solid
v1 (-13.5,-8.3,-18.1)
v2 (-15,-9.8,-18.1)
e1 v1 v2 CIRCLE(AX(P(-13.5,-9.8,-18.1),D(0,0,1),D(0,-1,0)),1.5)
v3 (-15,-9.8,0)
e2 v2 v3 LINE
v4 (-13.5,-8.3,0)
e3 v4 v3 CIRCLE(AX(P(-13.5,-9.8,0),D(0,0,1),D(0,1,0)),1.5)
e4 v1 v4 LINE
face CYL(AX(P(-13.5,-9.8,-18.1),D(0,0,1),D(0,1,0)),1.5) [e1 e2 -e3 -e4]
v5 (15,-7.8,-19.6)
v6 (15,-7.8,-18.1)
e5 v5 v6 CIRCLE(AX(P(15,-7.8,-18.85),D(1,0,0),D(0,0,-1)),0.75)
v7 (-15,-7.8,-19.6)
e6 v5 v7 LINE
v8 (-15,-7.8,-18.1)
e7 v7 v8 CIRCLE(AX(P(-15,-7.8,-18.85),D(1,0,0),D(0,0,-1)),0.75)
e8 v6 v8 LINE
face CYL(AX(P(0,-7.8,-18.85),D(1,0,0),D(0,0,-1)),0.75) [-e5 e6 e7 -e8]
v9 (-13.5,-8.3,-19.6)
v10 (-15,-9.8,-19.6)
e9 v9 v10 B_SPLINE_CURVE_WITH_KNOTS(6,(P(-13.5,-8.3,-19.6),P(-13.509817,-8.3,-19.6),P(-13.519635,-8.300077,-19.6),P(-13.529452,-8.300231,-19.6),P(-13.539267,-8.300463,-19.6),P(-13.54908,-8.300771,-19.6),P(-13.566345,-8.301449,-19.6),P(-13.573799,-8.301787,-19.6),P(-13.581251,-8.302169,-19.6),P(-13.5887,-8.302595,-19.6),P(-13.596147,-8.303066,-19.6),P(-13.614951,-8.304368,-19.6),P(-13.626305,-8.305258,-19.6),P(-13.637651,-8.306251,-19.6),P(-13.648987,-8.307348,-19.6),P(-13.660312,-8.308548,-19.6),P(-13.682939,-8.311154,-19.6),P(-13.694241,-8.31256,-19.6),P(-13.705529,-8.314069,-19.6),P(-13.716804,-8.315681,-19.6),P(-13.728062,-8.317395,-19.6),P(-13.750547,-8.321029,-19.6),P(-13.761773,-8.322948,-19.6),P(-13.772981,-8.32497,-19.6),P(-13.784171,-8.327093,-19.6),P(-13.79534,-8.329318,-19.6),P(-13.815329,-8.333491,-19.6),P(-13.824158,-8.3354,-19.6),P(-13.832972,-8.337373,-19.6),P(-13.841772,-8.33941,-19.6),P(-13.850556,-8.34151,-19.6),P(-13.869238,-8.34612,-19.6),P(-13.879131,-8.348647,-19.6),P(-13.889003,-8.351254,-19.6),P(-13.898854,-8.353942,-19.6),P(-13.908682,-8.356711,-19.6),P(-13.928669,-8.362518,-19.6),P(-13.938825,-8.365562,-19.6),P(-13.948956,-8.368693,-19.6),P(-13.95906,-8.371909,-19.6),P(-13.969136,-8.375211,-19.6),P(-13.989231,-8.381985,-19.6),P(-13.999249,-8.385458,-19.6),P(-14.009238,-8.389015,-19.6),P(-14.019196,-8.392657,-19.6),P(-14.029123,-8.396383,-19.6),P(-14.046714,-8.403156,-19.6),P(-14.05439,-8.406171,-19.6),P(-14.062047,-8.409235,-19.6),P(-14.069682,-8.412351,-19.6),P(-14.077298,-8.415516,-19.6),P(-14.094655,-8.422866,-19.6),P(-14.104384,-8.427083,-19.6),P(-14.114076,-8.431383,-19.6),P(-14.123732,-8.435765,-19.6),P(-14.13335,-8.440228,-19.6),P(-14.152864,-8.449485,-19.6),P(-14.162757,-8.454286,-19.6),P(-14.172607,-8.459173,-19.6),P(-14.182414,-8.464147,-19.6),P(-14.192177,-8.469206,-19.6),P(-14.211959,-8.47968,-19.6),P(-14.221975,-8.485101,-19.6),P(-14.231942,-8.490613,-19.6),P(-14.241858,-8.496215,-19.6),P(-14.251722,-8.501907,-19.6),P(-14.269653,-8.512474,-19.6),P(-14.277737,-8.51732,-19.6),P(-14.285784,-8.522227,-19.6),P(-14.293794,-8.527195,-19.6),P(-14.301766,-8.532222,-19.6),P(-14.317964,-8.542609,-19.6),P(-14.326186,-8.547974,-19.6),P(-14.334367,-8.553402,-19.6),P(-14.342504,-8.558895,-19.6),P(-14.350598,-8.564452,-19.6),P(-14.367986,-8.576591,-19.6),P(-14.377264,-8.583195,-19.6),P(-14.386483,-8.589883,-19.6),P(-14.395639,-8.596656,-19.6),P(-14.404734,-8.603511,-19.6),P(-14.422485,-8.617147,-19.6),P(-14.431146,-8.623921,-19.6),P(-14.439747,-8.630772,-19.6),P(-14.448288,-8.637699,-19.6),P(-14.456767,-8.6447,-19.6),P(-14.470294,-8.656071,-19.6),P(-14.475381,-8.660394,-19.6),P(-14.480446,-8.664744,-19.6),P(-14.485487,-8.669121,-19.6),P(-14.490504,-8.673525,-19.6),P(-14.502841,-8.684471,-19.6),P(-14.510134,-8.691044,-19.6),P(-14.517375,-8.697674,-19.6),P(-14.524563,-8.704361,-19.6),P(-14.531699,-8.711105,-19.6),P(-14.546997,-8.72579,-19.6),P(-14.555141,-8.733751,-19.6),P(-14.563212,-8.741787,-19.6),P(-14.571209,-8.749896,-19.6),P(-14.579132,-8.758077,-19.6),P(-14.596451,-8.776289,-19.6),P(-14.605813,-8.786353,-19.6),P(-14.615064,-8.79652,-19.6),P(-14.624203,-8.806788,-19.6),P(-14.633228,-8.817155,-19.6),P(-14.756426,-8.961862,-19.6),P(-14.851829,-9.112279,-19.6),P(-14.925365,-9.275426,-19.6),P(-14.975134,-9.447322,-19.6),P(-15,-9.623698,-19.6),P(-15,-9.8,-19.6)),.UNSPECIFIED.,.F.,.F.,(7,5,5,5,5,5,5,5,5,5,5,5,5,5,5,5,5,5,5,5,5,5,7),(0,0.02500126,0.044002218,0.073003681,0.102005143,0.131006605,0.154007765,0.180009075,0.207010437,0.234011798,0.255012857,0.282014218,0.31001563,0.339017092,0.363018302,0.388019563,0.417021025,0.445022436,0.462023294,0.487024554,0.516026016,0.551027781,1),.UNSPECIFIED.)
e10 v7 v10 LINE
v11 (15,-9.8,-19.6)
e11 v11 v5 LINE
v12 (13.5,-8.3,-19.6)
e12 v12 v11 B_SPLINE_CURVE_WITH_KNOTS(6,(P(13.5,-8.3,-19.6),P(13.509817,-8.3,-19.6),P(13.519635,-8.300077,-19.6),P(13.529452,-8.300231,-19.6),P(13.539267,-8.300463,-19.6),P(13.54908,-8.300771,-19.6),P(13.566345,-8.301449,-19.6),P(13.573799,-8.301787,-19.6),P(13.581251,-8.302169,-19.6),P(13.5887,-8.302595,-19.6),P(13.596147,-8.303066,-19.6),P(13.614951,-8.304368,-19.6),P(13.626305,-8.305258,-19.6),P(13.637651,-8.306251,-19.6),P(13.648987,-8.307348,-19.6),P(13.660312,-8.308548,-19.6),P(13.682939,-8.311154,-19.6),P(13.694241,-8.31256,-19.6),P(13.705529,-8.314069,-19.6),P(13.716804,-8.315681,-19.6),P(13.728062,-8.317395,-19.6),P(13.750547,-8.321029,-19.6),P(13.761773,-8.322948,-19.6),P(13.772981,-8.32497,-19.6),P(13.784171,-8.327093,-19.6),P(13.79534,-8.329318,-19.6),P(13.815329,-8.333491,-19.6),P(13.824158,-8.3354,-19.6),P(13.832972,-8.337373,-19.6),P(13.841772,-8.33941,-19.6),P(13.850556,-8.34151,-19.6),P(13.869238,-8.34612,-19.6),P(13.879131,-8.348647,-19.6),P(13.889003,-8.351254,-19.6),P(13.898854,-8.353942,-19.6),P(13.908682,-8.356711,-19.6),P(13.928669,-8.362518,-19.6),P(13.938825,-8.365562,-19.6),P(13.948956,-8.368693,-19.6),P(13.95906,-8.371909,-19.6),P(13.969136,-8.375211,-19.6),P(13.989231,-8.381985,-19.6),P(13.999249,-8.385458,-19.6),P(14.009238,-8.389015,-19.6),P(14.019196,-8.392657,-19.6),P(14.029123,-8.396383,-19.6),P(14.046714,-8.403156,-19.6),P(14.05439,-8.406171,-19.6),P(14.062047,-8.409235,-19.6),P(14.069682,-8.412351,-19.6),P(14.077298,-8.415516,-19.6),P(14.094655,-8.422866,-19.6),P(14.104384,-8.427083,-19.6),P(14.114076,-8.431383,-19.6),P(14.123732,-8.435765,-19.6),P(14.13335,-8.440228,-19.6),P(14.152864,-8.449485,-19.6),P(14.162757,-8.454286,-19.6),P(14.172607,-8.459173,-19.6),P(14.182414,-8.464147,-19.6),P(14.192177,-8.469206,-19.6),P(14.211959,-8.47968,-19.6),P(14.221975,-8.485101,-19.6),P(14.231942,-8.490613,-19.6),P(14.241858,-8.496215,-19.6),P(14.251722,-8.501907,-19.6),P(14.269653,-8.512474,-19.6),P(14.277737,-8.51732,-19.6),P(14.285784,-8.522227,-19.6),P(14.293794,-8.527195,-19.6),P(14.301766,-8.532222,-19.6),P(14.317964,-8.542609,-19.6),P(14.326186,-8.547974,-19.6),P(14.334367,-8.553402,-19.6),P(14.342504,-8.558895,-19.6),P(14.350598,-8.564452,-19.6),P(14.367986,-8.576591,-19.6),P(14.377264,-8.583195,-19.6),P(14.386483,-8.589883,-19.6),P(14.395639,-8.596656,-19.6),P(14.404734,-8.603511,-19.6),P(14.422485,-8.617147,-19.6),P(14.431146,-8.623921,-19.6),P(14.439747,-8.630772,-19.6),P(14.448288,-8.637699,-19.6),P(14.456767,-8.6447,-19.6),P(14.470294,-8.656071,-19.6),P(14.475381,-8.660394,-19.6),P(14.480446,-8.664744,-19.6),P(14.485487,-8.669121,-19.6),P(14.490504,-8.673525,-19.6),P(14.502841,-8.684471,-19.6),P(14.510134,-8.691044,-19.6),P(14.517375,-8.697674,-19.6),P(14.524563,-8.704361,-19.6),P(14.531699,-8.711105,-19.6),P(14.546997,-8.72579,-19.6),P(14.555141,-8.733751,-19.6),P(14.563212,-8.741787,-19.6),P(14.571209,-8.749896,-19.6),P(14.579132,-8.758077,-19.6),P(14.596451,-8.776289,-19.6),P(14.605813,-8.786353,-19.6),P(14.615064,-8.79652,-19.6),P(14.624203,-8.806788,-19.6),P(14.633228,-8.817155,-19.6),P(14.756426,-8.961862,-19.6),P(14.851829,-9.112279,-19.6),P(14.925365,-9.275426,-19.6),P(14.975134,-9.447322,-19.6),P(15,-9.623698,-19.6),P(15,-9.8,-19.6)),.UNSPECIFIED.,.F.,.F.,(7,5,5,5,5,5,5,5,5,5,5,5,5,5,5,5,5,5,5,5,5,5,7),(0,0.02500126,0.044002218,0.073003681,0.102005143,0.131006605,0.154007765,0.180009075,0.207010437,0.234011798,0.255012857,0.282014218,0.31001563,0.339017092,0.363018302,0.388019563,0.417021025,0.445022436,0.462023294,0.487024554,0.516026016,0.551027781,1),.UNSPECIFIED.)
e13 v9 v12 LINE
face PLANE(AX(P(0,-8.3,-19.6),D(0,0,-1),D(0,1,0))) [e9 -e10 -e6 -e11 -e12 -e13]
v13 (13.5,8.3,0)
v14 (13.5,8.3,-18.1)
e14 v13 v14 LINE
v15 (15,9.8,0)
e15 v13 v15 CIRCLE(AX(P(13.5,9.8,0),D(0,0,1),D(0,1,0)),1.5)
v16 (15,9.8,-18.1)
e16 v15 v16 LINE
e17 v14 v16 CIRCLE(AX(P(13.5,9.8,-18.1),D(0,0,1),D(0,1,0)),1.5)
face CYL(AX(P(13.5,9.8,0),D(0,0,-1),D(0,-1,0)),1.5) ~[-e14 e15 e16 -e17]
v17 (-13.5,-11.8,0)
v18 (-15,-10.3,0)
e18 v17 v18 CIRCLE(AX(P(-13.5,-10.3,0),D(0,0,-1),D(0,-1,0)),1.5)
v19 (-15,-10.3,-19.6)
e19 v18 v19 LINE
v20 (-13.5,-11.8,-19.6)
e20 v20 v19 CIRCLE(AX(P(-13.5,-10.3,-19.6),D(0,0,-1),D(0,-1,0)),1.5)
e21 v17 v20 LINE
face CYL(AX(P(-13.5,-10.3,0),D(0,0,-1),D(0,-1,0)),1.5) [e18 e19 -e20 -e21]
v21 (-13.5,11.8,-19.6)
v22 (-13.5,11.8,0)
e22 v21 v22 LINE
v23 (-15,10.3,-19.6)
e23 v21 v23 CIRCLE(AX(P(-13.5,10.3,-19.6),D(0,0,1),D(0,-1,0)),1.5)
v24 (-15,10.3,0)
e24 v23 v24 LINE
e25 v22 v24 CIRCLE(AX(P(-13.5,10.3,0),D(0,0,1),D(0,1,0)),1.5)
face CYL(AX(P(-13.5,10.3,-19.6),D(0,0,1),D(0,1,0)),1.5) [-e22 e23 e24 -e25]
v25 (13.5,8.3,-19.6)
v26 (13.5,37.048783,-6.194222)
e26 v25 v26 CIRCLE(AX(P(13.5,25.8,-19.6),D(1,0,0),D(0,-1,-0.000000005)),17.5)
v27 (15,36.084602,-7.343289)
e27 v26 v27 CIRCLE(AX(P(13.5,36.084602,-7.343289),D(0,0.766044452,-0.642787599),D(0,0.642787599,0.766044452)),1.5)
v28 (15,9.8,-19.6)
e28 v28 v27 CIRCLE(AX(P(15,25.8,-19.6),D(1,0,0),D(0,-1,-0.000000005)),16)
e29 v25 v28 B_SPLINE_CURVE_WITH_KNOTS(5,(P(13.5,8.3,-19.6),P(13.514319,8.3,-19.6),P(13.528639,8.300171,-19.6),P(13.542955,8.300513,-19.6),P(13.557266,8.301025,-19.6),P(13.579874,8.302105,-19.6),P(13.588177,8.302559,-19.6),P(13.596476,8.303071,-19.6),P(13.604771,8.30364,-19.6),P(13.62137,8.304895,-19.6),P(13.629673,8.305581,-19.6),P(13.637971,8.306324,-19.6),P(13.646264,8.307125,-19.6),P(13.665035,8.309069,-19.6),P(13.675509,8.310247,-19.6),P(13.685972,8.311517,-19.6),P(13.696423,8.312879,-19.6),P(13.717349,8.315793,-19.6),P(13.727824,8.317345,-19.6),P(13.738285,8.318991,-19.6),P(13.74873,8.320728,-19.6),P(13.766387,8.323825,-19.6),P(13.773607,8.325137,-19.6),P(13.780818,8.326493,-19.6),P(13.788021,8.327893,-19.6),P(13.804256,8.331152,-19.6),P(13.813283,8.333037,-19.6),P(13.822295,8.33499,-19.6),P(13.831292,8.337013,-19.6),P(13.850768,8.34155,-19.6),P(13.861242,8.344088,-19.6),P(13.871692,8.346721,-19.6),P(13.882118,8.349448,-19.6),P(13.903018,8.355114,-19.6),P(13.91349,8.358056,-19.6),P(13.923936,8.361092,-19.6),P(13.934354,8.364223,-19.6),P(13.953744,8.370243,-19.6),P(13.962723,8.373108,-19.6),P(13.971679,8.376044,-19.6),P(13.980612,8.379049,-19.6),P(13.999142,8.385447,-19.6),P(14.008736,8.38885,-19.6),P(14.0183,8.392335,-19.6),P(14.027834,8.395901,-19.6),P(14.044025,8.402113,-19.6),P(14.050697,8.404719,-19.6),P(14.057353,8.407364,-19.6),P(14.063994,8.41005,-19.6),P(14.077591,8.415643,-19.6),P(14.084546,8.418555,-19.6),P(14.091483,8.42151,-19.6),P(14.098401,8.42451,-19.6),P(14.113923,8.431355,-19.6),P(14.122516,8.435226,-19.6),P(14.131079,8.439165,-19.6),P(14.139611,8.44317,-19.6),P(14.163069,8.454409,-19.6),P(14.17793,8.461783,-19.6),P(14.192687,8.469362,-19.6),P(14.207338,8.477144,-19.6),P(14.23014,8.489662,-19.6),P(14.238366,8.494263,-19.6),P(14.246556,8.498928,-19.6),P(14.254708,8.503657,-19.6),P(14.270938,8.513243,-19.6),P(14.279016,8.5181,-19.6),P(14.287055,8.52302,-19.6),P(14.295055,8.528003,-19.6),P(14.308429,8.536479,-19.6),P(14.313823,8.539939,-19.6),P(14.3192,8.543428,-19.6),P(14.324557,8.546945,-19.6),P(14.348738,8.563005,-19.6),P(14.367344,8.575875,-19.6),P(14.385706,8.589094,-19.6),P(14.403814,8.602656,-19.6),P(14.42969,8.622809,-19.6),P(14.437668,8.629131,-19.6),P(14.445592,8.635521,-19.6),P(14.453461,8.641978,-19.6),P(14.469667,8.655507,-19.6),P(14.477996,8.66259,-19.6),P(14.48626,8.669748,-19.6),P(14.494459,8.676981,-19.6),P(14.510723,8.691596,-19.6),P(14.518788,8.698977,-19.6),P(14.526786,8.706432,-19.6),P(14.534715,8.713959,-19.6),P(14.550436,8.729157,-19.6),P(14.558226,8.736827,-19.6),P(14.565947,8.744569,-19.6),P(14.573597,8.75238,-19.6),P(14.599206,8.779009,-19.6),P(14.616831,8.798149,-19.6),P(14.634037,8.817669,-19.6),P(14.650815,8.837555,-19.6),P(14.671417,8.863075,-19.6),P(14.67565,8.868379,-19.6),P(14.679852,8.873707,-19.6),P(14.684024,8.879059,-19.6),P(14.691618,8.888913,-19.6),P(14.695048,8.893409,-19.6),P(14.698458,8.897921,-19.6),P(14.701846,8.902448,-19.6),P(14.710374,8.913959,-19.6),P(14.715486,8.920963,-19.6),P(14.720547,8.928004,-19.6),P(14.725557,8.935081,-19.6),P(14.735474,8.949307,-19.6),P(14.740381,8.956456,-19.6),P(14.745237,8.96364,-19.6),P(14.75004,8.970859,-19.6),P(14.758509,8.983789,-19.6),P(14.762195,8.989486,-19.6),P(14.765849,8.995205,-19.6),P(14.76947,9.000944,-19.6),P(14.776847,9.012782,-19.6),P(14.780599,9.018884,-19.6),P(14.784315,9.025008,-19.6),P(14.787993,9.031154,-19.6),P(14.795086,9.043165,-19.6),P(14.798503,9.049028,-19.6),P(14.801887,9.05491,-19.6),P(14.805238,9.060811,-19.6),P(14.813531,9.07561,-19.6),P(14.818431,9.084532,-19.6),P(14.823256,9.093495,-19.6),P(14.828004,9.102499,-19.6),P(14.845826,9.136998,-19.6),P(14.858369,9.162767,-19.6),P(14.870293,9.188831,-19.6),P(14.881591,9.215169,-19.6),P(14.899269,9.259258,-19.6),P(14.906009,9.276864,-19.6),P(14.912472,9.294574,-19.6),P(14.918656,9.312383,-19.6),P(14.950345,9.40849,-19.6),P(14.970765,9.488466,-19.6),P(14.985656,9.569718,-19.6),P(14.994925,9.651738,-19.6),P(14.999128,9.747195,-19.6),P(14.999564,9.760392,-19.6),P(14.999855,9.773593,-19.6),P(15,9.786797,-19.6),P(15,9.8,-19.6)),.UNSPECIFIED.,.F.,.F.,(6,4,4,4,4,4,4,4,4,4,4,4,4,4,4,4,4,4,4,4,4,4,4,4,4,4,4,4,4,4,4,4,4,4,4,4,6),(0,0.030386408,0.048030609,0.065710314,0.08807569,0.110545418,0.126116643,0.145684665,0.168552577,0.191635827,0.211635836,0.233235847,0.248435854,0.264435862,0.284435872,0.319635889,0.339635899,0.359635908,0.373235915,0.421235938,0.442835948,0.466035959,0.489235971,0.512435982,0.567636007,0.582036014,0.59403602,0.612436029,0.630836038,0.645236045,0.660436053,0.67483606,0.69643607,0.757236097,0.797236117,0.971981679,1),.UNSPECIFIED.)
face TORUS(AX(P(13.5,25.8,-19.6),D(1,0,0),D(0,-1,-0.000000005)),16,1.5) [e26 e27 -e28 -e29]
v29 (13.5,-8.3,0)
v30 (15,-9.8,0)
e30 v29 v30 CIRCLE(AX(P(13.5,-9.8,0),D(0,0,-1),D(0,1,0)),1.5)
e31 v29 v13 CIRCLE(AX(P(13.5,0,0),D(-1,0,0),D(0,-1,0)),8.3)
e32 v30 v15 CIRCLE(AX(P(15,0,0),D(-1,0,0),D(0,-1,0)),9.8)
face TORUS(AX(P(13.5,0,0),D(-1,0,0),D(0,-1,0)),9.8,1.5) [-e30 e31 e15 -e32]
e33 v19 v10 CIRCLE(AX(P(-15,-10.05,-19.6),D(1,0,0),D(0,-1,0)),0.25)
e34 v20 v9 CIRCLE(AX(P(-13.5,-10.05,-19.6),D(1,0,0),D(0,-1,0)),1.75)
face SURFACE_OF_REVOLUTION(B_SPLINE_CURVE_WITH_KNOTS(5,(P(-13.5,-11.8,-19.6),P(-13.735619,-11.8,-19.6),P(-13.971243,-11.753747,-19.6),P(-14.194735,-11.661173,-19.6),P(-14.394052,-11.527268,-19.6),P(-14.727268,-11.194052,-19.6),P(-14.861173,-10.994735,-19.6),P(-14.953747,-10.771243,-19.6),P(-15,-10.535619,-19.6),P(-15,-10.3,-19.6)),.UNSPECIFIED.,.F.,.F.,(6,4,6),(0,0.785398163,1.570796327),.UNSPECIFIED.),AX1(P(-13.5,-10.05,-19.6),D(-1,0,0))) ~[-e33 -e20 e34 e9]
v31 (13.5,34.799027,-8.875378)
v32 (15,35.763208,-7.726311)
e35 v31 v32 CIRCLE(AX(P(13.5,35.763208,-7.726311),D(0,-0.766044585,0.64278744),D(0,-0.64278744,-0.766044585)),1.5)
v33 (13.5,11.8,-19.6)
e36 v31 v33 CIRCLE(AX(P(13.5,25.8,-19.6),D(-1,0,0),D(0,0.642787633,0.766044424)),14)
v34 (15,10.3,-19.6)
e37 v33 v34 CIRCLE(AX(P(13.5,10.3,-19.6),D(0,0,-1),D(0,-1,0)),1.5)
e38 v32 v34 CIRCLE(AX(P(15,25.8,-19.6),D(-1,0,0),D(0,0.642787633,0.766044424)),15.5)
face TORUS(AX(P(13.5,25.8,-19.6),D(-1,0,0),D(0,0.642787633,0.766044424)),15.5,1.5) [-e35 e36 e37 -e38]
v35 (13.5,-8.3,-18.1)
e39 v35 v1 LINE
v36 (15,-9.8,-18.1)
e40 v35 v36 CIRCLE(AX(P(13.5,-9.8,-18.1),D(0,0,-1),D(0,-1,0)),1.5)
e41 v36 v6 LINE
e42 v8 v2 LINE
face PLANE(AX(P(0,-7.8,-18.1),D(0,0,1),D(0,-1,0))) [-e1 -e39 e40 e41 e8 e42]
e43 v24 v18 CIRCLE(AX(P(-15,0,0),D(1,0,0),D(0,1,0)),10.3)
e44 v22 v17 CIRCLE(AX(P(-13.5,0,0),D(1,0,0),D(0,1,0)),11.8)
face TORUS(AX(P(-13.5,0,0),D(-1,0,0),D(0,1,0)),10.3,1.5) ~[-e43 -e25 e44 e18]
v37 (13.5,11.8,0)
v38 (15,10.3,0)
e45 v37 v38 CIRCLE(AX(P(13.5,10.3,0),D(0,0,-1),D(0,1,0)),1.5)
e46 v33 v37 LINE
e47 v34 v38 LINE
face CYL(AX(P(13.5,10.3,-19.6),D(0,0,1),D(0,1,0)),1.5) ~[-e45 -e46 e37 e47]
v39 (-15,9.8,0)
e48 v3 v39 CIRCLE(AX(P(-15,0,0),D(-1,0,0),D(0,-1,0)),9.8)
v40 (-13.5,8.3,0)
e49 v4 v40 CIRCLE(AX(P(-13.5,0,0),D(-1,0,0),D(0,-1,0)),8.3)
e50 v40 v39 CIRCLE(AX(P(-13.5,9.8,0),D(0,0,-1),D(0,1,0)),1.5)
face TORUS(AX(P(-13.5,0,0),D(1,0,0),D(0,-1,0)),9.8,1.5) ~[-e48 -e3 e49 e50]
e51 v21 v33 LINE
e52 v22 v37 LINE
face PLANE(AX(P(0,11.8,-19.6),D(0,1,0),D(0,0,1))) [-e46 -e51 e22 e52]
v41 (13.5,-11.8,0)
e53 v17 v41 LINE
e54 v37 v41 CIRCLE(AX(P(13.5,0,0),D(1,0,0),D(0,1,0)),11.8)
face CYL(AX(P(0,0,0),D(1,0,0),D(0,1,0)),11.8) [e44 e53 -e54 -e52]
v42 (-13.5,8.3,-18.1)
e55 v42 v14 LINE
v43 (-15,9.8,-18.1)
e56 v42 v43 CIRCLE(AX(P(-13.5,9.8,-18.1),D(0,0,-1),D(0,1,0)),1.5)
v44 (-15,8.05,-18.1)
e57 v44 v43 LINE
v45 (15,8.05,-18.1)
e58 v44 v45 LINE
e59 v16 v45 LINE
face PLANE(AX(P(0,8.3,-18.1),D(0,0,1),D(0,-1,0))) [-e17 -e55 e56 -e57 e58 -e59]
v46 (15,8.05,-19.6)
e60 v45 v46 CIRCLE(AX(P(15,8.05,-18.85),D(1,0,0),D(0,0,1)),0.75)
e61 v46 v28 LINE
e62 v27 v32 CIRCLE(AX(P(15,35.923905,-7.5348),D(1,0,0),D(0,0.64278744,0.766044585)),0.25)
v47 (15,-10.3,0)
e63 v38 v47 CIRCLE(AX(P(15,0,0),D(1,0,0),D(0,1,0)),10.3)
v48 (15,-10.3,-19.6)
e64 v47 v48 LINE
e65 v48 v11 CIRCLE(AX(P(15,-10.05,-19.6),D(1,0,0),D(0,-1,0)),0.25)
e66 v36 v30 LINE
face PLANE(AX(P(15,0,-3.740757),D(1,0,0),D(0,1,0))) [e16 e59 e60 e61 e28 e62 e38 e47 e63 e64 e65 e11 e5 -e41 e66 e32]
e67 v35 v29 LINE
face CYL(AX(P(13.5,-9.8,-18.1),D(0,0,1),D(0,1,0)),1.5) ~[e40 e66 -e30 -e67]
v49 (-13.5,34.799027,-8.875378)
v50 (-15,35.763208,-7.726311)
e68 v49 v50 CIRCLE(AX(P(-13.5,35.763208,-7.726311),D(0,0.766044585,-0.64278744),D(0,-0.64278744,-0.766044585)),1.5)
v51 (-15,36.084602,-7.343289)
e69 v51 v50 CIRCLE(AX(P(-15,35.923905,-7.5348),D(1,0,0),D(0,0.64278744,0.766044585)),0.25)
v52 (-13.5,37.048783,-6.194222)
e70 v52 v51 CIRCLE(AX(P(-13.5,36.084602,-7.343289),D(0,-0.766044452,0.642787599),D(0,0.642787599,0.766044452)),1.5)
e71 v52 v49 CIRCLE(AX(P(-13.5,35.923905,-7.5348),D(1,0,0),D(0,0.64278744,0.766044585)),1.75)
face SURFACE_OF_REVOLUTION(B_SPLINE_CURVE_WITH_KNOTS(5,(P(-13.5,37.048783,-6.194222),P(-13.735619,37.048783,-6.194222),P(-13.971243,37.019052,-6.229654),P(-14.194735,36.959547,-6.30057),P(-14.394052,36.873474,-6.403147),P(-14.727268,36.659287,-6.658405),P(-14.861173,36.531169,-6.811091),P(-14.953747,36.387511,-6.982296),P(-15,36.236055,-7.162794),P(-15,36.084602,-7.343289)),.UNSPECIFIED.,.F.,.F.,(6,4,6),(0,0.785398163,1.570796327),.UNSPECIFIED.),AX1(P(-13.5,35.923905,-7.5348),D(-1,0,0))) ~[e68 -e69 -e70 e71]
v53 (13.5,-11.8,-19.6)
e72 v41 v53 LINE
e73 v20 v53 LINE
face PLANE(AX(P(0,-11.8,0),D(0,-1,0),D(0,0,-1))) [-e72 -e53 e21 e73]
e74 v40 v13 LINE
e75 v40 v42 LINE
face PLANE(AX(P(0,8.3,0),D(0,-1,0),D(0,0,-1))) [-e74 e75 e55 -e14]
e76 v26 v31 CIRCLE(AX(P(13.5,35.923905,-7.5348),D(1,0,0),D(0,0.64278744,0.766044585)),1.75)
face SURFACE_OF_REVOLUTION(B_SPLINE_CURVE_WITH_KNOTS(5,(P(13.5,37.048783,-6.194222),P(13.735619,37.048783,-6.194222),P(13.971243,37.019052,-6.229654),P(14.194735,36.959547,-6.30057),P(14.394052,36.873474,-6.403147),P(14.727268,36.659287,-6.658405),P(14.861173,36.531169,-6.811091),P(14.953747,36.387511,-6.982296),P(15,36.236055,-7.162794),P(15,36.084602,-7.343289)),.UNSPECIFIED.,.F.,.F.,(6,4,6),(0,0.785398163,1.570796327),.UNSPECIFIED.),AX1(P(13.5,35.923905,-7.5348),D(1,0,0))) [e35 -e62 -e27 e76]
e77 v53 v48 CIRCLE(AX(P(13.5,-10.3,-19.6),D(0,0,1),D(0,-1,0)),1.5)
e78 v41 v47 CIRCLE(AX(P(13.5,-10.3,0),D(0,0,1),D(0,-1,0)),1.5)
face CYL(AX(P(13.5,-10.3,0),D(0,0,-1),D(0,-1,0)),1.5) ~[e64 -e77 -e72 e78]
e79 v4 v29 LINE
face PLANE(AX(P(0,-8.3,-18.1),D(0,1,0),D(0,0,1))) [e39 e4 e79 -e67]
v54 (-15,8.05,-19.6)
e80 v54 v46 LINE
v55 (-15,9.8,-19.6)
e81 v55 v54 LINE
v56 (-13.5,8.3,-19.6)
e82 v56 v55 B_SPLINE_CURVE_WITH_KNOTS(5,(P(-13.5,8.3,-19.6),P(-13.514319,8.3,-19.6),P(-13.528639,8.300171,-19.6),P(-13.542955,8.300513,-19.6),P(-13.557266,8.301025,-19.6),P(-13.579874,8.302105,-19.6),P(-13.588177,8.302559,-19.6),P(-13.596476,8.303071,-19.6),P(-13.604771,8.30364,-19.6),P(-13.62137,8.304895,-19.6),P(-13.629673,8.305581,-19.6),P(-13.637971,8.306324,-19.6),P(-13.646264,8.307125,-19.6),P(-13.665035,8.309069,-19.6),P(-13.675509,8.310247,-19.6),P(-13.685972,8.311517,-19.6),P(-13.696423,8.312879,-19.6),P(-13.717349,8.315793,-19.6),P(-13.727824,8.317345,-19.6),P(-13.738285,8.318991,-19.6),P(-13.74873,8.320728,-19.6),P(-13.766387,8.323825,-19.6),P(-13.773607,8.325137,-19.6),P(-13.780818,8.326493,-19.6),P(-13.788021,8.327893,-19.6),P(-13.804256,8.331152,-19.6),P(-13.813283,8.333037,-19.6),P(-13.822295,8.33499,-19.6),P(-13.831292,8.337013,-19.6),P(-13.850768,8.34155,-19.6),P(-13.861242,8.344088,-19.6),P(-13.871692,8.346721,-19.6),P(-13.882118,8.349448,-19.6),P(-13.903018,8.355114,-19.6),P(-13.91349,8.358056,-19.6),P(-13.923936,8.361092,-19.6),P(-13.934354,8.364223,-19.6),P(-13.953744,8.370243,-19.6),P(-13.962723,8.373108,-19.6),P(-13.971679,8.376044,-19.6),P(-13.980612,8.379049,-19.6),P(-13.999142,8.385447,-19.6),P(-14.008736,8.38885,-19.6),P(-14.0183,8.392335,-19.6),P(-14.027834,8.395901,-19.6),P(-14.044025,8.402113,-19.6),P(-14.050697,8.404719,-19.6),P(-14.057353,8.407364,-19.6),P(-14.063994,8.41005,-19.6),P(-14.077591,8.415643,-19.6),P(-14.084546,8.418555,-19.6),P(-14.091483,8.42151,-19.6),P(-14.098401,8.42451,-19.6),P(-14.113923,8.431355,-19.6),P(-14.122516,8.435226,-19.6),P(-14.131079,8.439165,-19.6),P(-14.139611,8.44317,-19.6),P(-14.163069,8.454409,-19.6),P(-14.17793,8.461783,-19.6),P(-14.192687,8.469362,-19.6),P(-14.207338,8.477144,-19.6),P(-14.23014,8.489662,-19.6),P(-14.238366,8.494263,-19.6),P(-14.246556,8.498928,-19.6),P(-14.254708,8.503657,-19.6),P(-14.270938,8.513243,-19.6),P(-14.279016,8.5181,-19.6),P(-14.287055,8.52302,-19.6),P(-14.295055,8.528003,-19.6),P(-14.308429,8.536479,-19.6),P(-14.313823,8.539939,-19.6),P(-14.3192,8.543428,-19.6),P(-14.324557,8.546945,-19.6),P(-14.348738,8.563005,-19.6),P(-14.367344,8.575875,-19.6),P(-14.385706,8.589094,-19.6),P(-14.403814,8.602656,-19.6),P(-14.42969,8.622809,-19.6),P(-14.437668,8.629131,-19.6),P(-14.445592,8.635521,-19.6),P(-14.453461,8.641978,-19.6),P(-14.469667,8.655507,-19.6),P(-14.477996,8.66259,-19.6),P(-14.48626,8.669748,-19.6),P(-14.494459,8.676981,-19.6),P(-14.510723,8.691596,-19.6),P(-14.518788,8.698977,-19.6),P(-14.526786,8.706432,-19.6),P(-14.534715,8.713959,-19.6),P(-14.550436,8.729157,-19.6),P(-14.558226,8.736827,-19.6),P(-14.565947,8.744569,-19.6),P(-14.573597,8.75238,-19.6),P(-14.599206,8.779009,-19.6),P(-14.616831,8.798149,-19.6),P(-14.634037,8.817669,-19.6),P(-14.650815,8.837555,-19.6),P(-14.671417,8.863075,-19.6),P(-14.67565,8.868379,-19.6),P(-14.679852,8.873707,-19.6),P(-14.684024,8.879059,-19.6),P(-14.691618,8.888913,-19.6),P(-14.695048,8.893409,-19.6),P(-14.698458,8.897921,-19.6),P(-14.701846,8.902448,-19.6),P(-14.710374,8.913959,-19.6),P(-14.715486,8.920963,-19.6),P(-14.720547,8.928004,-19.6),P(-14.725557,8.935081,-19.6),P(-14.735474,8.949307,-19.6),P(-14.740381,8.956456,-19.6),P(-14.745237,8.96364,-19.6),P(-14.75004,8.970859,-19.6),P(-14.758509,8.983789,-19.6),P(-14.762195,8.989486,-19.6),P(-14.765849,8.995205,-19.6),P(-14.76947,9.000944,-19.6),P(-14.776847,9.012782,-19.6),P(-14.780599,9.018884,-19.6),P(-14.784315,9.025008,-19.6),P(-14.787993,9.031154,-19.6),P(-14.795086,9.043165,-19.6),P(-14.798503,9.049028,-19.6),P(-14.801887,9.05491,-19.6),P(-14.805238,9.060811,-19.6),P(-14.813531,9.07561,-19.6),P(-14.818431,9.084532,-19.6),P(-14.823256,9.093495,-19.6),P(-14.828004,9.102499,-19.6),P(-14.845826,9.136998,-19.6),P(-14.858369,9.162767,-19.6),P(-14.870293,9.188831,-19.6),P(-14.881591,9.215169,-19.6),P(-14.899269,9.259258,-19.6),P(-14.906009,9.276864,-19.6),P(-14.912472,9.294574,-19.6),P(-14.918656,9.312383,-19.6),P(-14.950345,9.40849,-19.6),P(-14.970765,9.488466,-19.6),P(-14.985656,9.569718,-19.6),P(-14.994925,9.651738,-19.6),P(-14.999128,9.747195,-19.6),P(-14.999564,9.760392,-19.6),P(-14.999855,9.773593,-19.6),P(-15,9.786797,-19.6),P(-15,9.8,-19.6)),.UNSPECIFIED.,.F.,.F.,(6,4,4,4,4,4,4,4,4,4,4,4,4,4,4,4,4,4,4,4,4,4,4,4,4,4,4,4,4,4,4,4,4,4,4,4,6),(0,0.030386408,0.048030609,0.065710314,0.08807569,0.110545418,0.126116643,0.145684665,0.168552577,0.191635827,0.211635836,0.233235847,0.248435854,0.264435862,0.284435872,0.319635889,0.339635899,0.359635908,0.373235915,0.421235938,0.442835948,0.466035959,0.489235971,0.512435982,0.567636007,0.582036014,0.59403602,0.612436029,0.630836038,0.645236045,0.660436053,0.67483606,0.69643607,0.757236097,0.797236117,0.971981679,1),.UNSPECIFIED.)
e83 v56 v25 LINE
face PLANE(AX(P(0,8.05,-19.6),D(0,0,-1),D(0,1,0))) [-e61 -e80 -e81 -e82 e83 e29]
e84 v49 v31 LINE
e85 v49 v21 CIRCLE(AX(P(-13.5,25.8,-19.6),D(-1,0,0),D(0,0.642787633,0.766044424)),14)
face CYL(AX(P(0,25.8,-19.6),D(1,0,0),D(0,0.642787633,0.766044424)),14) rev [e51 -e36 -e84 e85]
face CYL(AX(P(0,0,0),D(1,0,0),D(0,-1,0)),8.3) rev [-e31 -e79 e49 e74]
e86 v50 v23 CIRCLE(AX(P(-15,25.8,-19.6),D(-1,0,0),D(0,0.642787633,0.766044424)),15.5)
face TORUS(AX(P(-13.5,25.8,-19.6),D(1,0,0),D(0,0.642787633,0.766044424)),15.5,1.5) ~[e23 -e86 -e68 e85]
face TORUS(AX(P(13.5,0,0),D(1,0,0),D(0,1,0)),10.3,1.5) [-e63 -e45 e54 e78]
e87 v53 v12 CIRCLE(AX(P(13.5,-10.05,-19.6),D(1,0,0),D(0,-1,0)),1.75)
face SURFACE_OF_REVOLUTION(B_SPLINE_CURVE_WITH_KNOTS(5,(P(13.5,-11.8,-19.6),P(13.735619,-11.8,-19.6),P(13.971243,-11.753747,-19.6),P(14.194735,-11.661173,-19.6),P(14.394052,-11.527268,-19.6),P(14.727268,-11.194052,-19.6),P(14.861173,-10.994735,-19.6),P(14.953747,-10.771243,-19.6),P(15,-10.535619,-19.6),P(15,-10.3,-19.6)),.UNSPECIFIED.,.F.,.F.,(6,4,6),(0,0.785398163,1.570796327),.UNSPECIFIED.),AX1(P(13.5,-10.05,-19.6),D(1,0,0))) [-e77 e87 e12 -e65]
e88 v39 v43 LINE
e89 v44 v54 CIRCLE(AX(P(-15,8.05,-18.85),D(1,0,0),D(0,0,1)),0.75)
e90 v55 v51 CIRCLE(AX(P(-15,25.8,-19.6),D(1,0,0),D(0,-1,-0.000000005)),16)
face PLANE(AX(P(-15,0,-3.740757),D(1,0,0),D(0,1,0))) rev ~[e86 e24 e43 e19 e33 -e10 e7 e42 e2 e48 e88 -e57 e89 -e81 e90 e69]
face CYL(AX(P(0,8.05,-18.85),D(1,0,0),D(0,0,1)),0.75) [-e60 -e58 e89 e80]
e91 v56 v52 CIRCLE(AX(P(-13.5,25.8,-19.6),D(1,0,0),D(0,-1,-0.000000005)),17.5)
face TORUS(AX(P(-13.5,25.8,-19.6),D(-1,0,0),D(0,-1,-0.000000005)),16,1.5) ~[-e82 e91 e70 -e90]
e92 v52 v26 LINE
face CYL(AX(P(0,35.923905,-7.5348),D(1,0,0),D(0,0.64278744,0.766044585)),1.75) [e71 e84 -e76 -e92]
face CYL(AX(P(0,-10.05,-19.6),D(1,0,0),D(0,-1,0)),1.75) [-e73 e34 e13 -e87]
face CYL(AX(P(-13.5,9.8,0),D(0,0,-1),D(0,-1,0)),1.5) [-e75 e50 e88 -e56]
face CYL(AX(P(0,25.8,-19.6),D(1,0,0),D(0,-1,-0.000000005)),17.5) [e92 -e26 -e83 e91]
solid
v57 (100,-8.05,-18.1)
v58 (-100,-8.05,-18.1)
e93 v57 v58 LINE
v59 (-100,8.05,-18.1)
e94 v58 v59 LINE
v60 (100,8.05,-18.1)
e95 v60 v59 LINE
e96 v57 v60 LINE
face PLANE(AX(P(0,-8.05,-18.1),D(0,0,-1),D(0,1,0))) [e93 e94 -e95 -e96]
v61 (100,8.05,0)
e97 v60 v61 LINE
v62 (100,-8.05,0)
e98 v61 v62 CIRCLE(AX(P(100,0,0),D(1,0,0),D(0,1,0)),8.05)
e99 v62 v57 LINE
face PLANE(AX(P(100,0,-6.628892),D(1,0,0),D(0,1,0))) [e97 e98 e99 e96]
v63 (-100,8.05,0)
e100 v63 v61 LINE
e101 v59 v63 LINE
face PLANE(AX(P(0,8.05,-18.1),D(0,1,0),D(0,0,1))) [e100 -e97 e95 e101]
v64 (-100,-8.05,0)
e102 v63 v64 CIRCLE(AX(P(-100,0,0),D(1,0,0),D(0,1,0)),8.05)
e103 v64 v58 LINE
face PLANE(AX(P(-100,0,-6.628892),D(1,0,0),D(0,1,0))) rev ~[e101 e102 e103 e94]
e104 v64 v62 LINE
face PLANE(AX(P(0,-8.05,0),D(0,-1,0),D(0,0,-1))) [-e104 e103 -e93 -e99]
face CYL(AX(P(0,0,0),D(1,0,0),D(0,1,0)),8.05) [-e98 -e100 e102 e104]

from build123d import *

# Parameters (mm, degrees)
F1_DEPTH = 100
F3_DEPTH = 15
F4_R     = 1.5


with BuildPart() as f1:
    # F0 (on Right) → F1 (new body, symmetric)
    with BuildSketch(Plane.YZ):
        with BuildLine():
            Line((8.05, -18.1), (8.05, 0))
            ThreePointArc((8.05, 0), (0, 8.05), (-8.05, 0))
            Line((-8.05, 0), (-8.05, -18.1))
            Line((-8.05, -18.1), (8.05, -18.1))
        make_face()
    extrude(amount=F1_DEPTH, both=True)


with BuildPart() as f3:
    # F2 (on Right) → F3 (new body, symmetric)
    with BuildSketch(Plane.YZ):
        with BuildLine():
            Line((-8.3, -19.6), (-8.3, -18.1))
            Line((-8.3, -18.1), (-8.3, 0))
            ThreePointArc((-8.3, 0), (0, 8.3), (8.3, 0))
            Line((8.3, 0), (8.3, -18.1))
            Line((8.3, -18.1), (8.3, -19.6))
            Line((8.3, -19.6), (11.8, -19.6))
            Line((11.8, -19.6), (11.8, 0))
            ThreePointArc((11.8, 0), (0, 11.8), (-11.8, 0))
            Line((-11.8, 0), (-11.8, -19.6))
            Line((-11.8, -19.6), (-8.3, -19.6))
        make_face()
        with BuildLine():
            Line((11.8, -19.6), (8.3, -19.6))
            ThreePointArc((8.3, -19.6), (33.19582, -35.460386), (37.048783, -6.194222))
            ThreePointArc((37.048783, -6.194222), (34.583327, -6.409922), (34.799027, -8.875378))
            ThreePointArc((34.799027, -8.875378), (31.716656, -32.288309), (11.8, -19.6))
        make_face()
        with BuildLine():
            Line((8.3, -18.1), (8.05, -18.1))
            ThreePointArc((8.05, -18.1), (7.3, -18.85), (8.05, -19.6))
            Line((8.05, -19.6), (8.3, -19.6))
            Line((8.3, -19.6), (8.3, -18.1))
        make_face()
        with BuildLine():
            ThreePointArc((-11.8, -19.6), (-10.05, -21.35), (-8.3, -19.6))
            Line((-8.3, -19.6), (-11.8, -19.6))
        make_face()
        with BuildLine():
            Line((-7.8, -18.1), (-8.05, -18.1))
            Line((-8.05, -18.1), (-8.3, -18.1))
            Line((-8.3, -18.1), (-8.3, -19.6))
            Line((-8.3, -19.6), (-7.8, -19.6))
            ThreePointArc((-7.8, -19.6), (-7.05, -18.85), (-7.8, -18.1))
        make_face()
    extrude(amount=F3_DEPTH, both=True)

    # F4
    f4_edges = [f3.edges().sort_by_distance(p)[0] for p in [
        (15, 31.716656, -32.288309),
        (15, -8.3, -9.05),
        (-15, -11.8, -9.8),
        (-15, -8.3, -9.05),
    ]]
    fillet(f4_edges, radius=F4_R)


solid = Compound([f1.part, f3.part])
